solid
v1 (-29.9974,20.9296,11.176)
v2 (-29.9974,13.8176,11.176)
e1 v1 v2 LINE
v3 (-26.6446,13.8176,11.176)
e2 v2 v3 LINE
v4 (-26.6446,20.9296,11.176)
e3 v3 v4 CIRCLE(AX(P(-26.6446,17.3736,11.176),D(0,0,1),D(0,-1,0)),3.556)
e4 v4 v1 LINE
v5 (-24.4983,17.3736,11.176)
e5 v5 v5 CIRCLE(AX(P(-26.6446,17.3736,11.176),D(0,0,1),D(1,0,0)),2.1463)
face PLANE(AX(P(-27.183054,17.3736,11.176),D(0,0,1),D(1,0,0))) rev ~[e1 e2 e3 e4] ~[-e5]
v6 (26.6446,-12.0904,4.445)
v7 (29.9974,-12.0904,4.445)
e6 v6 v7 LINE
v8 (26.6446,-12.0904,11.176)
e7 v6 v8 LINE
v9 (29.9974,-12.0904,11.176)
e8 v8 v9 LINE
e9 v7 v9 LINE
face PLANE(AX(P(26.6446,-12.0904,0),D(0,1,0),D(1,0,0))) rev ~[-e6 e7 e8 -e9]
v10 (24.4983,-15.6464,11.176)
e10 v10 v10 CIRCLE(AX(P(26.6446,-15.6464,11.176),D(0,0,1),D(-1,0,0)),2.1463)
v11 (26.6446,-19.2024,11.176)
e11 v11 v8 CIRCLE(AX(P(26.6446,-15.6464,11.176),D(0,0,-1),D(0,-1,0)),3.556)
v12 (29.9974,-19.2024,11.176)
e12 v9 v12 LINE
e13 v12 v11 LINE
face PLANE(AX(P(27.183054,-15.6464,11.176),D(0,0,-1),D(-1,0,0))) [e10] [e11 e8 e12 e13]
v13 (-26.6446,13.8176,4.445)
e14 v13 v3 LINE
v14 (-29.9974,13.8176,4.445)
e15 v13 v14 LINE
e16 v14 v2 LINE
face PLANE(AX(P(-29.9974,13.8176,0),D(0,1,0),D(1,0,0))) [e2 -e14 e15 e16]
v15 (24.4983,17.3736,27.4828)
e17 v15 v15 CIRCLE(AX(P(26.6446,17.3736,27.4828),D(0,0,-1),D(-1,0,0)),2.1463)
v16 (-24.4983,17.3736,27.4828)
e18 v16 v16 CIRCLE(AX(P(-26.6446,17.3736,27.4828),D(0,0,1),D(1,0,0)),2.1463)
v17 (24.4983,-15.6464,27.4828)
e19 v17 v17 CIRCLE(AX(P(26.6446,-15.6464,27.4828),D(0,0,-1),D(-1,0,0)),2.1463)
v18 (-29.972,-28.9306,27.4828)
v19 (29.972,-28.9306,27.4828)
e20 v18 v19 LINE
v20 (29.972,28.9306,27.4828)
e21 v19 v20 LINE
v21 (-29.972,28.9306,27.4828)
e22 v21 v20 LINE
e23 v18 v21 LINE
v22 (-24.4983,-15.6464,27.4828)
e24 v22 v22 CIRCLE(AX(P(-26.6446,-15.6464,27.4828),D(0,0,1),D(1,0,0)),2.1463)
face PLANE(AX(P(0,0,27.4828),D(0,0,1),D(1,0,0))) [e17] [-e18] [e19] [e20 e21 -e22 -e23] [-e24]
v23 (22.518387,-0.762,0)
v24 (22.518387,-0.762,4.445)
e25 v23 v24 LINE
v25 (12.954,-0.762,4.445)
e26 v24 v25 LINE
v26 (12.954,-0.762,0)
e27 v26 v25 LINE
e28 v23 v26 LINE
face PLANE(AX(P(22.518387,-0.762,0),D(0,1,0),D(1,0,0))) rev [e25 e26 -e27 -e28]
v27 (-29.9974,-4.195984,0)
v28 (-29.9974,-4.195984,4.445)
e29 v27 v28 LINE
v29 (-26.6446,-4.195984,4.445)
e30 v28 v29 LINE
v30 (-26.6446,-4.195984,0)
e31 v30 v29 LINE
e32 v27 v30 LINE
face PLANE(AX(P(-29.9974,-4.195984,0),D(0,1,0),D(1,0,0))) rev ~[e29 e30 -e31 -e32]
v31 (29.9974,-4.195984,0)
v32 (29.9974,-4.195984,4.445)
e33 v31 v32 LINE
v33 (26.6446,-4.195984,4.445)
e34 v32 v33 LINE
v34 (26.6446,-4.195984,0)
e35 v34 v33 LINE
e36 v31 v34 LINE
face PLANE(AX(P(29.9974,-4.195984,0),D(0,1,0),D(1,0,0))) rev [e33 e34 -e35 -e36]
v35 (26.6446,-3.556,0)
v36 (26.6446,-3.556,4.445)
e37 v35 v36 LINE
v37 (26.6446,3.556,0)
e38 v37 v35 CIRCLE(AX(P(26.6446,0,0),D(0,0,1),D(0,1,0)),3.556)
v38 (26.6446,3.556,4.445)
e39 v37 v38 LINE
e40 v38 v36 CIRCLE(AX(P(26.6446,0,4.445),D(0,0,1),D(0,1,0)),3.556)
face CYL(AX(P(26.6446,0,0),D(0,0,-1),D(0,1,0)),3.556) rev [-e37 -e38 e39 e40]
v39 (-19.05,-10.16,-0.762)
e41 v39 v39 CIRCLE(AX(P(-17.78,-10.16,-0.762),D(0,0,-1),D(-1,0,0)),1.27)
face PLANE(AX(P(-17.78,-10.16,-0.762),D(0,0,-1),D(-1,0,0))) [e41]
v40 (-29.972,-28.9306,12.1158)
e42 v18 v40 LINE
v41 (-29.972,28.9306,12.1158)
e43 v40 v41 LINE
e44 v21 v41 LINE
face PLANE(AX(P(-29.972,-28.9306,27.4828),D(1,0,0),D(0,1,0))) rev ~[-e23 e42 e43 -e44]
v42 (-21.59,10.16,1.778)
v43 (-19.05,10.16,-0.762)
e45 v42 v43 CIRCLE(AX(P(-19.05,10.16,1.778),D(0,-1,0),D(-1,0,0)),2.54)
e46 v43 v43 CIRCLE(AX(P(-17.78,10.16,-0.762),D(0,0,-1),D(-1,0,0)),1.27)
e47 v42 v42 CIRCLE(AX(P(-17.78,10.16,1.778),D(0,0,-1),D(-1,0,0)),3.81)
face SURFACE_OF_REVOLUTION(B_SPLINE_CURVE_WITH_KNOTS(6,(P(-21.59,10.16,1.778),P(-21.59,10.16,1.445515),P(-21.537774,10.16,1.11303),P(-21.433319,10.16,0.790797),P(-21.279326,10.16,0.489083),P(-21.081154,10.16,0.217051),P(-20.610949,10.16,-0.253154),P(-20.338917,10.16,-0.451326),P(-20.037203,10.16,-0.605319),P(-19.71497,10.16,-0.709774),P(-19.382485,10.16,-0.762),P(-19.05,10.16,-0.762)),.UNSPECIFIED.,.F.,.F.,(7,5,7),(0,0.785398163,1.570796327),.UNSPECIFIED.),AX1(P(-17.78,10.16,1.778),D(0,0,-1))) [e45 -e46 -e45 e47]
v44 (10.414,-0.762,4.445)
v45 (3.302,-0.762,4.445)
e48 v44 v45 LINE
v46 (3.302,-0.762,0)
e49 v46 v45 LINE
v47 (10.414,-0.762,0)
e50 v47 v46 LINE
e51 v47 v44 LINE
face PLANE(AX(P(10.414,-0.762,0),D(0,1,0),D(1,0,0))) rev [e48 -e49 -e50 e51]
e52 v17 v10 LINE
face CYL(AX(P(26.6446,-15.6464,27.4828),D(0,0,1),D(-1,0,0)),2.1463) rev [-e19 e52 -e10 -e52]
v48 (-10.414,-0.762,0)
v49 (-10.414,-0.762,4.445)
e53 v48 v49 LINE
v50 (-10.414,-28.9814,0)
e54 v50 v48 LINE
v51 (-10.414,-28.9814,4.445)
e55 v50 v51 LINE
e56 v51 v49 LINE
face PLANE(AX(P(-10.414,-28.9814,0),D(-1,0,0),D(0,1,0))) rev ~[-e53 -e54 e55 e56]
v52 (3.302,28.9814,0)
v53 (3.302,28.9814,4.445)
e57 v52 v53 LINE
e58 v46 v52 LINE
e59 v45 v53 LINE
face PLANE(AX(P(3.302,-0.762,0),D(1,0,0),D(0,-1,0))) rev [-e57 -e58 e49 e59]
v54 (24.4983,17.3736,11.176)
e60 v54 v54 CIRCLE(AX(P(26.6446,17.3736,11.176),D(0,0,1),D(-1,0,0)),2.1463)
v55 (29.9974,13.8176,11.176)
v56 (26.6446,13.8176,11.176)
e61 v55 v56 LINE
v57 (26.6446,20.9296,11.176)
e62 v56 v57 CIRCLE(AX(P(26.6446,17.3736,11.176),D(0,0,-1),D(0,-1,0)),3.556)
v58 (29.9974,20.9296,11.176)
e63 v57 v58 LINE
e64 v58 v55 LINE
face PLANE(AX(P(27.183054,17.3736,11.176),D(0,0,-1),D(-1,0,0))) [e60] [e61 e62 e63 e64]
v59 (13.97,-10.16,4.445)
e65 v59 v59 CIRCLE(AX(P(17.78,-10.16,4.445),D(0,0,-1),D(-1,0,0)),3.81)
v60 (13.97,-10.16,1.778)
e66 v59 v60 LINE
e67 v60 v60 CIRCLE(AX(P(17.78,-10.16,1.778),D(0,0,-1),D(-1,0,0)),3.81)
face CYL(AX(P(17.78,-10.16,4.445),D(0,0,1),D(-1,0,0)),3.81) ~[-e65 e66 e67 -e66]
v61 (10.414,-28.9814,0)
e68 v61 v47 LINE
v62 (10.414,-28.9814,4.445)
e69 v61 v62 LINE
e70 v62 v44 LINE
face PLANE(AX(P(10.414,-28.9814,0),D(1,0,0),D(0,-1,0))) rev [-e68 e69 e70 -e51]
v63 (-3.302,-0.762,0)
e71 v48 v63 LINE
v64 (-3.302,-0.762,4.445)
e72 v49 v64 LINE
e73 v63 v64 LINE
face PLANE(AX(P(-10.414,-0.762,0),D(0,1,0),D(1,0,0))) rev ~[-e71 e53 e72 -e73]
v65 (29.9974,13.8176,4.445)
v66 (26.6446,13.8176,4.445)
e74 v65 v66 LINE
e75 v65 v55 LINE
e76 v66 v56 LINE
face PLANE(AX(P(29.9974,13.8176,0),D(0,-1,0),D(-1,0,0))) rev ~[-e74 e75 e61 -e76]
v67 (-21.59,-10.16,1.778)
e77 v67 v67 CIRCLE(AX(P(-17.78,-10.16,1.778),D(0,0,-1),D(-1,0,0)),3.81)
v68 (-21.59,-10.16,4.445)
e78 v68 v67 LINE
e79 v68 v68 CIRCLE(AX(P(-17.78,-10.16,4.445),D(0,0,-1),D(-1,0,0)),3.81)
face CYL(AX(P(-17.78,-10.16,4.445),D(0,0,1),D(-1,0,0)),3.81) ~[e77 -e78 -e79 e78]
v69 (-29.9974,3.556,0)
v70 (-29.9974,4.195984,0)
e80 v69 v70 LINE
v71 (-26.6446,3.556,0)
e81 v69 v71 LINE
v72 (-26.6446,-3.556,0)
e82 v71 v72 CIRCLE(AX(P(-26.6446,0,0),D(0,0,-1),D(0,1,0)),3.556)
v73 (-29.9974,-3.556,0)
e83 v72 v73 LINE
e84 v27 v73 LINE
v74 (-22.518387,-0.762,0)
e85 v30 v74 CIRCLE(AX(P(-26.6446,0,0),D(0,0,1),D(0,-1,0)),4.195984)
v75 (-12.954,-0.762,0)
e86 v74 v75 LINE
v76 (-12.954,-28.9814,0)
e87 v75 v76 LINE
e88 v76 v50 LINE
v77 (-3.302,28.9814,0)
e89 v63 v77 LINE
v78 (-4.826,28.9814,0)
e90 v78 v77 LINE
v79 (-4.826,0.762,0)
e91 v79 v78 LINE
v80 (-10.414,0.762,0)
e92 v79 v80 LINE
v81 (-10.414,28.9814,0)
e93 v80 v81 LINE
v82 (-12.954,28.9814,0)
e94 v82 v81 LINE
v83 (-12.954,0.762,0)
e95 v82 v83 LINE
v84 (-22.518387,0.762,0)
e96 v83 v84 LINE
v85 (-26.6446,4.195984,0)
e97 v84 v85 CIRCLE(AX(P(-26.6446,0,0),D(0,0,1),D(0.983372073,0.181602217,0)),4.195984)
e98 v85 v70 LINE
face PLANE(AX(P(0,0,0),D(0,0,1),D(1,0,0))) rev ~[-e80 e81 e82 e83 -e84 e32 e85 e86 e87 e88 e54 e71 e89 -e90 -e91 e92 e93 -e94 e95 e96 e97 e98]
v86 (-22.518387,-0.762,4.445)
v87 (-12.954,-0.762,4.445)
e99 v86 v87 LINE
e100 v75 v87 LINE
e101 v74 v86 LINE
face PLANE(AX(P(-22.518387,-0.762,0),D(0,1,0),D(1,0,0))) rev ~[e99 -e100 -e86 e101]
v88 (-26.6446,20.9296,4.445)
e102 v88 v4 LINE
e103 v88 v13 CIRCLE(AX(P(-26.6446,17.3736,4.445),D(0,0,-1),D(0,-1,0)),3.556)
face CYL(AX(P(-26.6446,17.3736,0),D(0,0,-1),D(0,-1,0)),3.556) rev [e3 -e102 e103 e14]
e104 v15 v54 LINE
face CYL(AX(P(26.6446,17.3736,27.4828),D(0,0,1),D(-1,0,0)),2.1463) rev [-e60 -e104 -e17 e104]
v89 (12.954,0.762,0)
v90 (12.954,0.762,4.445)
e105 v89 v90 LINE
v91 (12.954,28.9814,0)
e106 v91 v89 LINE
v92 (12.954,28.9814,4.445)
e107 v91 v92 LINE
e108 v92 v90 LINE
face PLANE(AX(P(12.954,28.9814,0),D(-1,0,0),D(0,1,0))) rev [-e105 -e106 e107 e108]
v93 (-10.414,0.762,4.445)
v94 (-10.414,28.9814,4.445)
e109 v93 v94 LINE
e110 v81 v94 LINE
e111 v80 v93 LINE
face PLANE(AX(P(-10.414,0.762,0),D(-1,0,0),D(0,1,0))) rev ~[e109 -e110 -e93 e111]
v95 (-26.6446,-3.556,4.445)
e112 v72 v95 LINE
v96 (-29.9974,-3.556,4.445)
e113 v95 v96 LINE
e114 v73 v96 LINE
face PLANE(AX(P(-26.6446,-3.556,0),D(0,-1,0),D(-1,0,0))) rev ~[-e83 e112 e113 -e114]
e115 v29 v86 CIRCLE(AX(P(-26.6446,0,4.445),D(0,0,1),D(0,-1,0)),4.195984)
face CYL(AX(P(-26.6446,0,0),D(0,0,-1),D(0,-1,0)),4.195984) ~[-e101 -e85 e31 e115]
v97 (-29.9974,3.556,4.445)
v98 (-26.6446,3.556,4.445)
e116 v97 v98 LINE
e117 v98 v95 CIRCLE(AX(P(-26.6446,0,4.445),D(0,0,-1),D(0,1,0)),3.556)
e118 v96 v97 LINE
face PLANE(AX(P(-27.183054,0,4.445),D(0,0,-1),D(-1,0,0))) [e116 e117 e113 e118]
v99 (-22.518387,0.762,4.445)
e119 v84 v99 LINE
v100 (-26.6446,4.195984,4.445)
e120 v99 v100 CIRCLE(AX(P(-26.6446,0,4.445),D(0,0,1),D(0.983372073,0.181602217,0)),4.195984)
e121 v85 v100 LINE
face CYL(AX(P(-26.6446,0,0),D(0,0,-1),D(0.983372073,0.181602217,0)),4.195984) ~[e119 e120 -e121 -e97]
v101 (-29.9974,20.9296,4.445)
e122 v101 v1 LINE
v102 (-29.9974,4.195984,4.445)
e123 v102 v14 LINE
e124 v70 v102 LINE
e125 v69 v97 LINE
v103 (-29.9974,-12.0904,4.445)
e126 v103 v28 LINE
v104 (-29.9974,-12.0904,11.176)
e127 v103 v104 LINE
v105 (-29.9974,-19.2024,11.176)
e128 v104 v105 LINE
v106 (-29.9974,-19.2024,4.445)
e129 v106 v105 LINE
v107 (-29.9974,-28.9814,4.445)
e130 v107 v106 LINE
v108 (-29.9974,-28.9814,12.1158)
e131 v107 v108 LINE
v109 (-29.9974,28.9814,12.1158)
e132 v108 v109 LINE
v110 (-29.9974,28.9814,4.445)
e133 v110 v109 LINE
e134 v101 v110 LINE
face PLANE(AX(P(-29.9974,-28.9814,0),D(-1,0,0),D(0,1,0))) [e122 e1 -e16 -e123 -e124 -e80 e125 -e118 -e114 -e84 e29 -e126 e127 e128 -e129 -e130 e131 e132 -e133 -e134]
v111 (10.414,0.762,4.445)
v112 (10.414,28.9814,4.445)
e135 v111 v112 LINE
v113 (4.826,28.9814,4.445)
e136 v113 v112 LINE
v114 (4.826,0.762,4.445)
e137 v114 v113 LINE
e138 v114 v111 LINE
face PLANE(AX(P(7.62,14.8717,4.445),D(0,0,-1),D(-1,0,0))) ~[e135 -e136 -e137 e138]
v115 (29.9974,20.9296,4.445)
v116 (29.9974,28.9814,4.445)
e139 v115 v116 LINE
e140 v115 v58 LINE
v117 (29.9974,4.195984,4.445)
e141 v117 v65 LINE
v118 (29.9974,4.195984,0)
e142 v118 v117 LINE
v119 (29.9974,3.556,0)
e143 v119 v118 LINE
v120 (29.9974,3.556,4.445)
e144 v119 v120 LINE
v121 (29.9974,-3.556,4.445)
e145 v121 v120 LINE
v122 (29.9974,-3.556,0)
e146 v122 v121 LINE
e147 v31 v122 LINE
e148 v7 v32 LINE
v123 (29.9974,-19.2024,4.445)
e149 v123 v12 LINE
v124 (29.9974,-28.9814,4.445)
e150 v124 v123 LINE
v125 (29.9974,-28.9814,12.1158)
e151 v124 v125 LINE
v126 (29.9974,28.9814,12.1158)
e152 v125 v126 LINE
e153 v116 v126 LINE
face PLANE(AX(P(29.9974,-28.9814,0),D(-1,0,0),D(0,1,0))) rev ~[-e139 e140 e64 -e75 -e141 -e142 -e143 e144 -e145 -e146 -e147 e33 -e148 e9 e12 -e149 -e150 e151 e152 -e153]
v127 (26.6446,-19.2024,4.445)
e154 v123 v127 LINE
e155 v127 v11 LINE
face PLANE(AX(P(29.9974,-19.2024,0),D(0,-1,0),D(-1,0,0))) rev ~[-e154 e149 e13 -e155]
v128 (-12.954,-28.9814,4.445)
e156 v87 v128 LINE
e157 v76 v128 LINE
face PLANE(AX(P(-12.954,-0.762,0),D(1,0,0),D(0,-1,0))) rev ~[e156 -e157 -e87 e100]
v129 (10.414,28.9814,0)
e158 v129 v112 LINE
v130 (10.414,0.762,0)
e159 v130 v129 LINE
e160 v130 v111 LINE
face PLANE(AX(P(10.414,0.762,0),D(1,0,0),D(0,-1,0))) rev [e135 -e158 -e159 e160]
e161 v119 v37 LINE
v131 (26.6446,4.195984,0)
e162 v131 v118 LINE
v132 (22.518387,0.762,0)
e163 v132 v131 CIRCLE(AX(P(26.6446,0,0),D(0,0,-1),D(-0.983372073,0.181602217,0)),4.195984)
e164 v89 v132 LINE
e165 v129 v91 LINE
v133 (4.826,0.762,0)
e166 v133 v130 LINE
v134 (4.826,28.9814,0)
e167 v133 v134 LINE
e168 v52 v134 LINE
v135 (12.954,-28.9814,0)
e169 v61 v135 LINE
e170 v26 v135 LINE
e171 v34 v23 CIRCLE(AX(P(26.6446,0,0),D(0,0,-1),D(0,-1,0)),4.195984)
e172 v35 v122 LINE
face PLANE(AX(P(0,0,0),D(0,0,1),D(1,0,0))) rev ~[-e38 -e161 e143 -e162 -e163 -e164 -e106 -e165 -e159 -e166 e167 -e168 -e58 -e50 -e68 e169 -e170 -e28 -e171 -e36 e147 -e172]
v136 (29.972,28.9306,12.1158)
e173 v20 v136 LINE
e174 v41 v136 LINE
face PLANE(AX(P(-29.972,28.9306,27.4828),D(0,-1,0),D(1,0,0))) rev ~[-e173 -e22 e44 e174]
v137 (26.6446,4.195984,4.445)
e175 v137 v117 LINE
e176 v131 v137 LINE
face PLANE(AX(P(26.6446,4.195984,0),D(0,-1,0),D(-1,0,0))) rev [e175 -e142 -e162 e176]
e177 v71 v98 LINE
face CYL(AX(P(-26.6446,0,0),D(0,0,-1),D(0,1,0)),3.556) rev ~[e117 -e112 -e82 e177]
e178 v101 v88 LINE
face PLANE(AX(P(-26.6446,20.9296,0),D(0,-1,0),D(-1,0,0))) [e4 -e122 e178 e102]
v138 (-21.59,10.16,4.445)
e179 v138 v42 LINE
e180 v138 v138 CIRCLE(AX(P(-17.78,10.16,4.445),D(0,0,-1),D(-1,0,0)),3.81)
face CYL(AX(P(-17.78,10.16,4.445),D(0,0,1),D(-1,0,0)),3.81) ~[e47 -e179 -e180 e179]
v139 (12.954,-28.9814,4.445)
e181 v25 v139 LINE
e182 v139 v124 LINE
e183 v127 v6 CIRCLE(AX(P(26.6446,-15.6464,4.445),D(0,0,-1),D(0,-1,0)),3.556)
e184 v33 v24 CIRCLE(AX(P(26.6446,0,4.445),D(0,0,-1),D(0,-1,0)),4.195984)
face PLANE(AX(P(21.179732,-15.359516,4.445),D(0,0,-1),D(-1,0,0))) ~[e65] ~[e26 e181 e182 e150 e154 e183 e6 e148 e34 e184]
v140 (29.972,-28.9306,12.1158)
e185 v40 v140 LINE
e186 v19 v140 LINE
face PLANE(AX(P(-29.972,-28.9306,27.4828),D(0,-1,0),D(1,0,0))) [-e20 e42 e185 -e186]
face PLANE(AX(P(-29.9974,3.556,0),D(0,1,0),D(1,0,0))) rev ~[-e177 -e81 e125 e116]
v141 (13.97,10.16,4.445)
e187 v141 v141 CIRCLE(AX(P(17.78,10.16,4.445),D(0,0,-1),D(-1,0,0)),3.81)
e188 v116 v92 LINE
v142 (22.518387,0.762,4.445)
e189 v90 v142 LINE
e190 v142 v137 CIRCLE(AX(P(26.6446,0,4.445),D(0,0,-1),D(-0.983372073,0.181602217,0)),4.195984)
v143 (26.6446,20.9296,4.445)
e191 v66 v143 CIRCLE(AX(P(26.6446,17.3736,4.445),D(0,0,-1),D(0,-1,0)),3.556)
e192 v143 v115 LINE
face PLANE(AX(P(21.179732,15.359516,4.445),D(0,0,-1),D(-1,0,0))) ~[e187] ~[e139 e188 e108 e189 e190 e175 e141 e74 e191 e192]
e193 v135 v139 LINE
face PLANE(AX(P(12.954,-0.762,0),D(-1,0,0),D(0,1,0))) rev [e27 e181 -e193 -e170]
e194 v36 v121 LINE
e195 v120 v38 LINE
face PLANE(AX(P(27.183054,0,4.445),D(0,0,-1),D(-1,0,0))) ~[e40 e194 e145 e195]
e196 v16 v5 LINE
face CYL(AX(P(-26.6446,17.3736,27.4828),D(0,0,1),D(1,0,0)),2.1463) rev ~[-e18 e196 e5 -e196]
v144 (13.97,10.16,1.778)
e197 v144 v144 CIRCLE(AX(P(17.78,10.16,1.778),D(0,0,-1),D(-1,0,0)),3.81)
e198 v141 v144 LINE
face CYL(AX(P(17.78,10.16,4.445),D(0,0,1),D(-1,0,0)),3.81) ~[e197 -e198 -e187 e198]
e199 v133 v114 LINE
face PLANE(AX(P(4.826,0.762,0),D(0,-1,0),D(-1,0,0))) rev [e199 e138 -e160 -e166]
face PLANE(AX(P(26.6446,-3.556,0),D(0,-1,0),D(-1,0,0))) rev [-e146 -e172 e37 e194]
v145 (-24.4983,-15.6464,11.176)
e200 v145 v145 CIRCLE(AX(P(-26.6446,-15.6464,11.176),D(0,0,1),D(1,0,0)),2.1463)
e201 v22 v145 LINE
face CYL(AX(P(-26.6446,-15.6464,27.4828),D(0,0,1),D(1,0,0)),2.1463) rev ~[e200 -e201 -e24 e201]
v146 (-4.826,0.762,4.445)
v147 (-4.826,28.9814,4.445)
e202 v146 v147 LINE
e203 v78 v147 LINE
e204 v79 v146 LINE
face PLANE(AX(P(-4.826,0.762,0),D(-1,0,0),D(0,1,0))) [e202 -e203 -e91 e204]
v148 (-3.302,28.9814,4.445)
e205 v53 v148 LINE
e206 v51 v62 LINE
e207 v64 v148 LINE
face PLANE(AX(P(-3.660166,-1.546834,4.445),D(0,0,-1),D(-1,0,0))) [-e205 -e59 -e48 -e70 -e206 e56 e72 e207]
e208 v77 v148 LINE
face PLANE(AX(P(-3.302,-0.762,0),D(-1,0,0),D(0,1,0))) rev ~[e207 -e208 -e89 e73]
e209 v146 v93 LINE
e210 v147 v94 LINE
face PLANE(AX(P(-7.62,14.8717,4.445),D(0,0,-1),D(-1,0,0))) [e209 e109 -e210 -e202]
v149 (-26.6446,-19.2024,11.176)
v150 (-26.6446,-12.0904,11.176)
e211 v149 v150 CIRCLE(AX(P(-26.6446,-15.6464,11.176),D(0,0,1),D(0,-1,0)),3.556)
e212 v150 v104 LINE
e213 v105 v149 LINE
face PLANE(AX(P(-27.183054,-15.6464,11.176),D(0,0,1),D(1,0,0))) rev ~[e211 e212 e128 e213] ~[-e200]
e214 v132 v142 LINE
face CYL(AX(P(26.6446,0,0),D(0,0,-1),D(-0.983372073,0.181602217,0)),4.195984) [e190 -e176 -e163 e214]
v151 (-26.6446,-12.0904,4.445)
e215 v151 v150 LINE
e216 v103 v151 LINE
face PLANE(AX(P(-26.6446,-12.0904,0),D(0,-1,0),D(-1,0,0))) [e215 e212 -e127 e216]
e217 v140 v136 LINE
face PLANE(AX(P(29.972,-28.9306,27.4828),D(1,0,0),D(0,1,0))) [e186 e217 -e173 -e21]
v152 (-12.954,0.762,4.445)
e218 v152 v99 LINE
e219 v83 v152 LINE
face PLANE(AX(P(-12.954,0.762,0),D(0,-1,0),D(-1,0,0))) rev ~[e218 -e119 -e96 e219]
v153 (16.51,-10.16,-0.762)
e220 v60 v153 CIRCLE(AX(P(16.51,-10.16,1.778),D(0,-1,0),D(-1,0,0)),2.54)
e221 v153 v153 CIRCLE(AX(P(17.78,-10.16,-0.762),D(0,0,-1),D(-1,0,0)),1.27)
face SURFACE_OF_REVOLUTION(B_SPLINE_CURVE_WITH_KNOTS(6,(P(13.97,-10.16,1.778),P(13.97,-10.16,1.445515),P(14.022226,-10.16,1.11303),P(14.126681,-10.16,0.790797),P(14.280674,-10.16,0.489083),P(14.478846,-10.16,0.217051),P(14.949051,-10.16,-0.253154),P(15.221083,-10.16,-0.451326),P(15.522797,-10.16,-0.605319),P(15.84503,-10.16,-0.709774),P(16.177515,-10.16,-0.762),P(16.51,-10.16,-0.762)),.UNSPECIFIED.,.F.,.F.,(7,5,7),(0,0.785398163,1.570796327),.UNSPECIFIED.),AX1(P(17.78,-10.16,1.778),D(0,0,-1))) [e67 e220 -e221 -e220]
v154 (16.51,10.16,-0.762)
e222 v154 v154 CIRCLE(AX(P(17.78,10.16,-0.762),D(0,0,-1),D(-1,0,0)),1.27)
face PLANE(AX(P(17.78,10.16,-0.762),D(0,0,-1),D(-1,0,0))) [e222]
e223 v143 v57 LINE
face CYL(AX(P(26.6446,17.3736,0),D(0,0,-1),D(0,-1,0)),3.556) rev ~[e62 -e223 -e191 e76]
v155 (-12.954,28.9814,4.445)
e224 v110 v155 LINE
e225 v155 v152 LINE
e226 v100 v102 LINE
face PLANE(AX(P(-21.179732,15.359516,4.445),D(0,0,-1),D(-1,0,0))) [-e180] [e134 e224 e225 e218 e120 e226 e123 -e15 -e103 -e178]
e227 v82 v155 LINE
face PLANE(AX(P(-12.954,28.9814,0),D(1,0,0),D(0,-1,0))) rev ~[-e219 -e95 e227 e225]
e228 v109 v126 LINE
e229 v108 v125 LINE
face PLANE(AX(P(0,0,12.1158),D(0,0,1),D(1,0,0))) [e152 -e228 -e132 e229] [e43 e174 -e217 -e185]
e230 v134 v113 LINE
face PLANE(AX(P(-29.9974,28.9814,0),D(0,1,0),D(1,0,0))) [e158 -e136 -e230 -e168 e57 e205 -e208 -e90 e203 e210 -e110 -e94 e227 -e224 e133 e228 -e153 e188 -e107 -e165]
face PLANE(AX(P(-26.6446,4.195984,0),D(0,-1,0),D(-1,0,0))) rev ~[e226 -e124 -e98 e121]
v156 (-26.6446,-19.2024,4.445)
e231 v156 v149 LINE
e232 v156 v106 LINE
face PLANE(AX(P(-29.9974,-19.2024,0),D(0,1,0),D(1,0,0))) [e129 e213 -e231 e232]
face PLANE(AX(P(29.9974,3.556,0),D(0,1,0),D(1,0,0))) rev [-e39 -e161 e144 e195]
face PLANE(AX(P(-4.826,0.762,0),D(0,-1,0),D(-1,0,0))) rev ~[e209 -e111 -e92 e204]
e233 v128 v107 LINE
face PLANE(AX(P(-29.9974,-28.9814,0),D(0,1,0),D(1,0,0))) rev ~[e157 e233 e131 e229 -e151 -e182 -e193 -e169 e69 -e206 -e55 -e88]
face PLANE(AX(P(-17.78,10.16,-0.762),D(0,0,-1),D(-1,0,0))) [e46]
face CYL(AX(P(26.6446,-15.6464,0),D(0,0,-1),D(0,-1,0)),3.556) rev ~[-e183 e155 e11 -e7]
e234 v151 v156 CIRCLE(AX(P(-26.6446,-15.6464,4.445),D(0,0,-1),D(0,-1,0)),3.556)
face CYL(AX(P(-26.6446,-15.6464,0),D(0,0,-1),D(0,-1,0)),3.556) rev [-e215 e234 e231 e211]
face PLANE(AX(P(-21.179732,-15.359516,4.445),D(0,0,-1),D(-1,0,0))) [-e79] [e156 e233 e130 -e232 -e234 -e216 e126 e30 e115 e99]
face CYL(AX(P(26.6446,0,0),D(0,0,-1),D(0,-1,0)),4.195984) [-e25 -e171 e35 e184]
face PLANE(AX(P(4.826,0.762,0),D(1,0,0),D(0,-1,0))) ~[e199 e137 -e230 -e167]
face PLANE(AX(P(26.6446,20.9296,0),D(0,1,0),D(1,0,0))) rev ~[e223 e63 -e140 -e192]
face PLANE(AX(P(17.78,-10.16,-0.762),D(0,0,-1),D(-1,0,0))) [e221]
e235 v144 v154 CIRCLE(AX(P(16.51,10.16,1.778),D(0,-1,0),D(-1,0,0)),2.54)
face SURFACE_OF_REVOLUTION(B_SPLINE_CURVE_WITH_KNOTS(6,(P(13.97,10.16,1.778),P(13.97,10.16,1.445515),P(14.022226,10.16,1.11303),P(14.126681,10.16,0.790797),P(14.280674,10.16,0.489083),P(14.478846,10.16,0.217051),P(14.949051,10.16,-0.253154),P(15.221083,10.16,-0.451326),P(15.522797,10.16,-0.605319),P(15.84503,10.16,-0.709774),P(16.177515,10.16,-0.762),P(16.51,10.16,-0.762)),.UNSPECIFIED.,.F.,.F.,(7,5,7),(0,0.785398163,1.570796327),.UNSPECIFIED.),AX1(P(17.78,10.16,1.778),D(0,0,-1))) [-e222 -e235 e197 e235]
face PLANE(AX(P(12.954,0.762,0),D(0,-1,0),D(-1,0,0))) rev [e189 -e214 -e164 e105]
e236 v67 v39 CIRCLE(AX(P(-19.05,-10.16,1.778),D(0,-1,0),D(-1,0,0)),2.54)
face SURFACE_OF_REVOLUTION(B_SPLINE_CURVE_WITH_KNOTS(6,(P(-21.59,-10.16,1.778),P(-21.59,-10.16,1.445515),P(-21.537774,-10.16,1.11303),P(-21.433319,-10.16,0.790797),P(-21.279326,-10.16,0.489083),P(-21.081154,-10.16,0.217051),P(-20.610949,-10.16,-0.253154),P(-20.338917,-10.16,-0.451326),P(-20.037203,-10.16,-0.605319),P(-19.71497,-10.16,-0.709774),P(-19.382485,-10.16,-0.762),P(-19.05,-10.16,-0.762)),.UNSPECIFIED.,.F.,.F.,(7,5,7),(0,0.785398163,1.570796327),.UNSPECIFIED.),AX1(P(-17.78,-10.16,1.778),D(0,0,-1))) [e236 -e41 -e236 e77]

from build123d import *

# Parameters (mm, degrees)
SKETCH1_W           = 59.9948
SKETCH1_H           = 57.9628
BOSS_EXTRUDE1_DEPTH = 27.4828
SKETCH2_R           = 2.1463
CUT_EXTRUDE1_DEPTH  = 50.950674155
CUT_EXTRUDE2_DEPTH  = 11.176
SKETCH4_W           = 5.588
SKETCH4_H           = 28.2194
CUT_EXTRUDE3_DEPTH  = 4.445
SKETCH5_W           = 59.9948
SKETCH5_H           = 57.9628
SKETCH5_W_2         = 59.944
SKETCH5_H_2         = 57.8612
CUT_EXTRUDE4_DEPTH  = 15.367
SKETCH6_R           = 3.81
BOSS_EXTRUDE2_DEPTH = 5.207
FILLET1_R           = 2.54


with BuildPart() as part:
    # Sketch1 → Boss-Extrude1 (new body)
    with BuildSketch(Plane.XY):
        Rectangle(SKETCH1_W, SKETCH1_H)
    extrude(amount=BOSS_EXTRUDE1_DEPTH)

    # Sketch2 → Cut-Extrude1 (cut, through all)
    with BuildSketch(Plane.XY.offset(27.4828)):
        with Locations((-26.6446, -15.6464)):
            Circle(SKETCH2_R)
        with Locations((-26.6446, 17.3736)):
            Circle(SKETCH2_R)
    cut_extrude1 = extrude(amount=-CUT_EXTRUDE1_DEPTH, mode=Mode.SUBTRACT)

    # Mirror1: Cut-Extrude1 across plane
    add(cut_extrude1.mirror(Plane(origin=(0, 0, 0), x_dir=(0, 0, 1), z_dir=(1, 0, 0))), mode=Mode.SUBTRACT)

    # Sketch3 → Cut-Extrude2 (cut)
    with BuildSketch(Plane(origin=(0, 0, 0), x_dir=(-1, 0, 0), z_dir=(0, 0, -1))):
        with BuildLine():
            Line((-26.6446, 20.9296), (-29.9974, 20.9296))
            Line((-29.9974, 20.9296), (-29.9974, 13.8176))
            Line((-29.9974, 13.8176), (-26.6446, 13.8176))
            ThreePointArc((-26.6446, 13.8176), (-23.0886, 17.3736), (-26.6446, 20.9296))
        make_face()
        with BuildLine():
            Line((-26.6446, -12.0904), (-29.9974, -12.0904))
            Line((-29.9974, -12.0904), (-29.9974, -19.2024))
            Line((-29.9974, -19.2024), (-26.6446, -19.2024))
            ThreePointArc((-26.6446, -19.2024), (-23.0886, -15.6464), (-26.6446, -12.0904))
        make_face()
        with BuildLine():
            Line((26.6446, 20.9296), (29.9974, 20.9296))
            Line((29.9974, 20.9296), (29.9974, 13.8176))
            Line((29.9974, 13.8176), (26.6446, 13.8176))
            ThreePointArc((26.6446, 13.8176), (23.0886, 17.3736), (26.6446, 20.9296))
        make_face()
        with BuildLine():
            Line((26.6446, -12.0904), (29.9974, -12.0904))
            Line((29.9974, -12.0904), (29.9974, -19.2024))
            Line((29.9974, -19.2024), (26.6446, -19.2024))
            ThreePointArc((26.6446, -19.2024), (23.0886, -15.6464), (26.6446, -12.0904))
        make_face()
    extrude(amount=-CUT_EXTRUDE2_DEPTH, mode=Mode.SUBTRACT)

    # Sketch4 → Cut-Extrude3 (cut)
    with BuildSketch(Plane(origin=(0, 0, 0), x_dir=(-1, 0, 0), z_dir=(0, 0, -1))):
        with BuildLine():
            ThreePointArc((22.518386513, 0.762), (23.960485441, 3.225183836), (26.6446, 4.195984001))
            Line((26.6446, 4.195984001), (29.9974, 4.195984001))
            Line((29.9974, 4.195984001), (29.9974, 28.9814))
            Line((29.9974, 28.9814), (12.954, 28.9814))
            Line((12.954, 28.9814), (12.954, 0.762))
            Line((12.954, 0.762), (22.518386513, 0.762))
        make_face()
        with BuildLine():
            Line((29.9974, -28.9814), (29.9974, -4.195984001))
            Line((29.9974, -4.195984001), (26.6446, -4.195984001))
            ThreePointArc((26.6446, -4.195984001), (23.960485441, -3.225183836), (22.518386513, -0.762))
            Line((22.518386513, -0.762), (12.954, -0.762))
            Line((12.954, -0.762), (12.954, -28.9814))
            Line((12.954, -28.9814), (29.9974, -28.9814))
        make_face()
        with BuildLine():
            Line((29.9974, -3.556), (29.9974, 3.556))
            Line((29.9974, 3.556), (26.6446, 3.556))
            ThreePointArc((26.6446, 3.556), (23.0886, 0), (26.6446, -3.556))
            Line((26.6446, -3.556), (29.9974, -3.556))
        make_face()
        Polygon((0, -28.9814), (10.414, -28.9814), (10.414, -0.762), (3.302, -0.762), (3.302, 28.9814), (0, 28.9814), align=None)
        with Locations((7.62, 14.8717)):
            Rectangle(SKETCH4_W, SKETCH4_H)
    cut_extrude3 = extrude(amount=-CUT_EXTRUDE3_DEPTH, mode=Mode.SUBTRACT)

    # Mirror2: Cut-Extrude3 across plane
    add(cut_extrude3.mirror(Plane(origin=(0, 0, 0), x_dir=(0, 0, 1), z_dir=(1, 0, 0))), mode=Mode.SUBTRACT)

    # Sketch5 → Cut-Extrude4 (cut)
    with BuildSketch(Plane.XY.offset(27.4828)):
        Rectangle(SKETCH5_W, SKETCH5_H)
        Rectangle(SKETCH5_W_2, SKETCH5_H_2, mode=Mode.SUBTRACT)
    extrude(amount=-CUT_EXTRUDE4_DEPTH, mode=Mode.SUBTRACT)

    # Sketch6 → Boss-Extrude2 (add)
    with BuildSketch(Plane(origin=(0, 0, 4.445), x_dir=(-1, 0, 0), z_dir=(0, 0, -1))):
        with Locations((-17.78, 10.16)):
            Circle(SKETCH6_R)
        with Locations((17.78, 10.16)):
            Circle(SKETCH6_R)
        with Locations((17.78, -10.16)):
            Circle(SKETCH6_R)
        with Locations((-17.78, -10.16)):
            Circle(SKETCH6_R)
    extrude(amount=BOSS_EXTRUDE2_DEPTH)

    # Fillet1
    fillet1_edges = [part.edges().sort_by_distance(p)[0] for p in [
        (21.59, 10.16, -0.762),
        (-13.97, 10.16, -0.762),
        (-13.97, -10.16, -0.762),
        (21.59, -10.16, -0.762),
    ]]
    fillet(fillet1_edges, radius=FILLET1_R)


solid = part.part
